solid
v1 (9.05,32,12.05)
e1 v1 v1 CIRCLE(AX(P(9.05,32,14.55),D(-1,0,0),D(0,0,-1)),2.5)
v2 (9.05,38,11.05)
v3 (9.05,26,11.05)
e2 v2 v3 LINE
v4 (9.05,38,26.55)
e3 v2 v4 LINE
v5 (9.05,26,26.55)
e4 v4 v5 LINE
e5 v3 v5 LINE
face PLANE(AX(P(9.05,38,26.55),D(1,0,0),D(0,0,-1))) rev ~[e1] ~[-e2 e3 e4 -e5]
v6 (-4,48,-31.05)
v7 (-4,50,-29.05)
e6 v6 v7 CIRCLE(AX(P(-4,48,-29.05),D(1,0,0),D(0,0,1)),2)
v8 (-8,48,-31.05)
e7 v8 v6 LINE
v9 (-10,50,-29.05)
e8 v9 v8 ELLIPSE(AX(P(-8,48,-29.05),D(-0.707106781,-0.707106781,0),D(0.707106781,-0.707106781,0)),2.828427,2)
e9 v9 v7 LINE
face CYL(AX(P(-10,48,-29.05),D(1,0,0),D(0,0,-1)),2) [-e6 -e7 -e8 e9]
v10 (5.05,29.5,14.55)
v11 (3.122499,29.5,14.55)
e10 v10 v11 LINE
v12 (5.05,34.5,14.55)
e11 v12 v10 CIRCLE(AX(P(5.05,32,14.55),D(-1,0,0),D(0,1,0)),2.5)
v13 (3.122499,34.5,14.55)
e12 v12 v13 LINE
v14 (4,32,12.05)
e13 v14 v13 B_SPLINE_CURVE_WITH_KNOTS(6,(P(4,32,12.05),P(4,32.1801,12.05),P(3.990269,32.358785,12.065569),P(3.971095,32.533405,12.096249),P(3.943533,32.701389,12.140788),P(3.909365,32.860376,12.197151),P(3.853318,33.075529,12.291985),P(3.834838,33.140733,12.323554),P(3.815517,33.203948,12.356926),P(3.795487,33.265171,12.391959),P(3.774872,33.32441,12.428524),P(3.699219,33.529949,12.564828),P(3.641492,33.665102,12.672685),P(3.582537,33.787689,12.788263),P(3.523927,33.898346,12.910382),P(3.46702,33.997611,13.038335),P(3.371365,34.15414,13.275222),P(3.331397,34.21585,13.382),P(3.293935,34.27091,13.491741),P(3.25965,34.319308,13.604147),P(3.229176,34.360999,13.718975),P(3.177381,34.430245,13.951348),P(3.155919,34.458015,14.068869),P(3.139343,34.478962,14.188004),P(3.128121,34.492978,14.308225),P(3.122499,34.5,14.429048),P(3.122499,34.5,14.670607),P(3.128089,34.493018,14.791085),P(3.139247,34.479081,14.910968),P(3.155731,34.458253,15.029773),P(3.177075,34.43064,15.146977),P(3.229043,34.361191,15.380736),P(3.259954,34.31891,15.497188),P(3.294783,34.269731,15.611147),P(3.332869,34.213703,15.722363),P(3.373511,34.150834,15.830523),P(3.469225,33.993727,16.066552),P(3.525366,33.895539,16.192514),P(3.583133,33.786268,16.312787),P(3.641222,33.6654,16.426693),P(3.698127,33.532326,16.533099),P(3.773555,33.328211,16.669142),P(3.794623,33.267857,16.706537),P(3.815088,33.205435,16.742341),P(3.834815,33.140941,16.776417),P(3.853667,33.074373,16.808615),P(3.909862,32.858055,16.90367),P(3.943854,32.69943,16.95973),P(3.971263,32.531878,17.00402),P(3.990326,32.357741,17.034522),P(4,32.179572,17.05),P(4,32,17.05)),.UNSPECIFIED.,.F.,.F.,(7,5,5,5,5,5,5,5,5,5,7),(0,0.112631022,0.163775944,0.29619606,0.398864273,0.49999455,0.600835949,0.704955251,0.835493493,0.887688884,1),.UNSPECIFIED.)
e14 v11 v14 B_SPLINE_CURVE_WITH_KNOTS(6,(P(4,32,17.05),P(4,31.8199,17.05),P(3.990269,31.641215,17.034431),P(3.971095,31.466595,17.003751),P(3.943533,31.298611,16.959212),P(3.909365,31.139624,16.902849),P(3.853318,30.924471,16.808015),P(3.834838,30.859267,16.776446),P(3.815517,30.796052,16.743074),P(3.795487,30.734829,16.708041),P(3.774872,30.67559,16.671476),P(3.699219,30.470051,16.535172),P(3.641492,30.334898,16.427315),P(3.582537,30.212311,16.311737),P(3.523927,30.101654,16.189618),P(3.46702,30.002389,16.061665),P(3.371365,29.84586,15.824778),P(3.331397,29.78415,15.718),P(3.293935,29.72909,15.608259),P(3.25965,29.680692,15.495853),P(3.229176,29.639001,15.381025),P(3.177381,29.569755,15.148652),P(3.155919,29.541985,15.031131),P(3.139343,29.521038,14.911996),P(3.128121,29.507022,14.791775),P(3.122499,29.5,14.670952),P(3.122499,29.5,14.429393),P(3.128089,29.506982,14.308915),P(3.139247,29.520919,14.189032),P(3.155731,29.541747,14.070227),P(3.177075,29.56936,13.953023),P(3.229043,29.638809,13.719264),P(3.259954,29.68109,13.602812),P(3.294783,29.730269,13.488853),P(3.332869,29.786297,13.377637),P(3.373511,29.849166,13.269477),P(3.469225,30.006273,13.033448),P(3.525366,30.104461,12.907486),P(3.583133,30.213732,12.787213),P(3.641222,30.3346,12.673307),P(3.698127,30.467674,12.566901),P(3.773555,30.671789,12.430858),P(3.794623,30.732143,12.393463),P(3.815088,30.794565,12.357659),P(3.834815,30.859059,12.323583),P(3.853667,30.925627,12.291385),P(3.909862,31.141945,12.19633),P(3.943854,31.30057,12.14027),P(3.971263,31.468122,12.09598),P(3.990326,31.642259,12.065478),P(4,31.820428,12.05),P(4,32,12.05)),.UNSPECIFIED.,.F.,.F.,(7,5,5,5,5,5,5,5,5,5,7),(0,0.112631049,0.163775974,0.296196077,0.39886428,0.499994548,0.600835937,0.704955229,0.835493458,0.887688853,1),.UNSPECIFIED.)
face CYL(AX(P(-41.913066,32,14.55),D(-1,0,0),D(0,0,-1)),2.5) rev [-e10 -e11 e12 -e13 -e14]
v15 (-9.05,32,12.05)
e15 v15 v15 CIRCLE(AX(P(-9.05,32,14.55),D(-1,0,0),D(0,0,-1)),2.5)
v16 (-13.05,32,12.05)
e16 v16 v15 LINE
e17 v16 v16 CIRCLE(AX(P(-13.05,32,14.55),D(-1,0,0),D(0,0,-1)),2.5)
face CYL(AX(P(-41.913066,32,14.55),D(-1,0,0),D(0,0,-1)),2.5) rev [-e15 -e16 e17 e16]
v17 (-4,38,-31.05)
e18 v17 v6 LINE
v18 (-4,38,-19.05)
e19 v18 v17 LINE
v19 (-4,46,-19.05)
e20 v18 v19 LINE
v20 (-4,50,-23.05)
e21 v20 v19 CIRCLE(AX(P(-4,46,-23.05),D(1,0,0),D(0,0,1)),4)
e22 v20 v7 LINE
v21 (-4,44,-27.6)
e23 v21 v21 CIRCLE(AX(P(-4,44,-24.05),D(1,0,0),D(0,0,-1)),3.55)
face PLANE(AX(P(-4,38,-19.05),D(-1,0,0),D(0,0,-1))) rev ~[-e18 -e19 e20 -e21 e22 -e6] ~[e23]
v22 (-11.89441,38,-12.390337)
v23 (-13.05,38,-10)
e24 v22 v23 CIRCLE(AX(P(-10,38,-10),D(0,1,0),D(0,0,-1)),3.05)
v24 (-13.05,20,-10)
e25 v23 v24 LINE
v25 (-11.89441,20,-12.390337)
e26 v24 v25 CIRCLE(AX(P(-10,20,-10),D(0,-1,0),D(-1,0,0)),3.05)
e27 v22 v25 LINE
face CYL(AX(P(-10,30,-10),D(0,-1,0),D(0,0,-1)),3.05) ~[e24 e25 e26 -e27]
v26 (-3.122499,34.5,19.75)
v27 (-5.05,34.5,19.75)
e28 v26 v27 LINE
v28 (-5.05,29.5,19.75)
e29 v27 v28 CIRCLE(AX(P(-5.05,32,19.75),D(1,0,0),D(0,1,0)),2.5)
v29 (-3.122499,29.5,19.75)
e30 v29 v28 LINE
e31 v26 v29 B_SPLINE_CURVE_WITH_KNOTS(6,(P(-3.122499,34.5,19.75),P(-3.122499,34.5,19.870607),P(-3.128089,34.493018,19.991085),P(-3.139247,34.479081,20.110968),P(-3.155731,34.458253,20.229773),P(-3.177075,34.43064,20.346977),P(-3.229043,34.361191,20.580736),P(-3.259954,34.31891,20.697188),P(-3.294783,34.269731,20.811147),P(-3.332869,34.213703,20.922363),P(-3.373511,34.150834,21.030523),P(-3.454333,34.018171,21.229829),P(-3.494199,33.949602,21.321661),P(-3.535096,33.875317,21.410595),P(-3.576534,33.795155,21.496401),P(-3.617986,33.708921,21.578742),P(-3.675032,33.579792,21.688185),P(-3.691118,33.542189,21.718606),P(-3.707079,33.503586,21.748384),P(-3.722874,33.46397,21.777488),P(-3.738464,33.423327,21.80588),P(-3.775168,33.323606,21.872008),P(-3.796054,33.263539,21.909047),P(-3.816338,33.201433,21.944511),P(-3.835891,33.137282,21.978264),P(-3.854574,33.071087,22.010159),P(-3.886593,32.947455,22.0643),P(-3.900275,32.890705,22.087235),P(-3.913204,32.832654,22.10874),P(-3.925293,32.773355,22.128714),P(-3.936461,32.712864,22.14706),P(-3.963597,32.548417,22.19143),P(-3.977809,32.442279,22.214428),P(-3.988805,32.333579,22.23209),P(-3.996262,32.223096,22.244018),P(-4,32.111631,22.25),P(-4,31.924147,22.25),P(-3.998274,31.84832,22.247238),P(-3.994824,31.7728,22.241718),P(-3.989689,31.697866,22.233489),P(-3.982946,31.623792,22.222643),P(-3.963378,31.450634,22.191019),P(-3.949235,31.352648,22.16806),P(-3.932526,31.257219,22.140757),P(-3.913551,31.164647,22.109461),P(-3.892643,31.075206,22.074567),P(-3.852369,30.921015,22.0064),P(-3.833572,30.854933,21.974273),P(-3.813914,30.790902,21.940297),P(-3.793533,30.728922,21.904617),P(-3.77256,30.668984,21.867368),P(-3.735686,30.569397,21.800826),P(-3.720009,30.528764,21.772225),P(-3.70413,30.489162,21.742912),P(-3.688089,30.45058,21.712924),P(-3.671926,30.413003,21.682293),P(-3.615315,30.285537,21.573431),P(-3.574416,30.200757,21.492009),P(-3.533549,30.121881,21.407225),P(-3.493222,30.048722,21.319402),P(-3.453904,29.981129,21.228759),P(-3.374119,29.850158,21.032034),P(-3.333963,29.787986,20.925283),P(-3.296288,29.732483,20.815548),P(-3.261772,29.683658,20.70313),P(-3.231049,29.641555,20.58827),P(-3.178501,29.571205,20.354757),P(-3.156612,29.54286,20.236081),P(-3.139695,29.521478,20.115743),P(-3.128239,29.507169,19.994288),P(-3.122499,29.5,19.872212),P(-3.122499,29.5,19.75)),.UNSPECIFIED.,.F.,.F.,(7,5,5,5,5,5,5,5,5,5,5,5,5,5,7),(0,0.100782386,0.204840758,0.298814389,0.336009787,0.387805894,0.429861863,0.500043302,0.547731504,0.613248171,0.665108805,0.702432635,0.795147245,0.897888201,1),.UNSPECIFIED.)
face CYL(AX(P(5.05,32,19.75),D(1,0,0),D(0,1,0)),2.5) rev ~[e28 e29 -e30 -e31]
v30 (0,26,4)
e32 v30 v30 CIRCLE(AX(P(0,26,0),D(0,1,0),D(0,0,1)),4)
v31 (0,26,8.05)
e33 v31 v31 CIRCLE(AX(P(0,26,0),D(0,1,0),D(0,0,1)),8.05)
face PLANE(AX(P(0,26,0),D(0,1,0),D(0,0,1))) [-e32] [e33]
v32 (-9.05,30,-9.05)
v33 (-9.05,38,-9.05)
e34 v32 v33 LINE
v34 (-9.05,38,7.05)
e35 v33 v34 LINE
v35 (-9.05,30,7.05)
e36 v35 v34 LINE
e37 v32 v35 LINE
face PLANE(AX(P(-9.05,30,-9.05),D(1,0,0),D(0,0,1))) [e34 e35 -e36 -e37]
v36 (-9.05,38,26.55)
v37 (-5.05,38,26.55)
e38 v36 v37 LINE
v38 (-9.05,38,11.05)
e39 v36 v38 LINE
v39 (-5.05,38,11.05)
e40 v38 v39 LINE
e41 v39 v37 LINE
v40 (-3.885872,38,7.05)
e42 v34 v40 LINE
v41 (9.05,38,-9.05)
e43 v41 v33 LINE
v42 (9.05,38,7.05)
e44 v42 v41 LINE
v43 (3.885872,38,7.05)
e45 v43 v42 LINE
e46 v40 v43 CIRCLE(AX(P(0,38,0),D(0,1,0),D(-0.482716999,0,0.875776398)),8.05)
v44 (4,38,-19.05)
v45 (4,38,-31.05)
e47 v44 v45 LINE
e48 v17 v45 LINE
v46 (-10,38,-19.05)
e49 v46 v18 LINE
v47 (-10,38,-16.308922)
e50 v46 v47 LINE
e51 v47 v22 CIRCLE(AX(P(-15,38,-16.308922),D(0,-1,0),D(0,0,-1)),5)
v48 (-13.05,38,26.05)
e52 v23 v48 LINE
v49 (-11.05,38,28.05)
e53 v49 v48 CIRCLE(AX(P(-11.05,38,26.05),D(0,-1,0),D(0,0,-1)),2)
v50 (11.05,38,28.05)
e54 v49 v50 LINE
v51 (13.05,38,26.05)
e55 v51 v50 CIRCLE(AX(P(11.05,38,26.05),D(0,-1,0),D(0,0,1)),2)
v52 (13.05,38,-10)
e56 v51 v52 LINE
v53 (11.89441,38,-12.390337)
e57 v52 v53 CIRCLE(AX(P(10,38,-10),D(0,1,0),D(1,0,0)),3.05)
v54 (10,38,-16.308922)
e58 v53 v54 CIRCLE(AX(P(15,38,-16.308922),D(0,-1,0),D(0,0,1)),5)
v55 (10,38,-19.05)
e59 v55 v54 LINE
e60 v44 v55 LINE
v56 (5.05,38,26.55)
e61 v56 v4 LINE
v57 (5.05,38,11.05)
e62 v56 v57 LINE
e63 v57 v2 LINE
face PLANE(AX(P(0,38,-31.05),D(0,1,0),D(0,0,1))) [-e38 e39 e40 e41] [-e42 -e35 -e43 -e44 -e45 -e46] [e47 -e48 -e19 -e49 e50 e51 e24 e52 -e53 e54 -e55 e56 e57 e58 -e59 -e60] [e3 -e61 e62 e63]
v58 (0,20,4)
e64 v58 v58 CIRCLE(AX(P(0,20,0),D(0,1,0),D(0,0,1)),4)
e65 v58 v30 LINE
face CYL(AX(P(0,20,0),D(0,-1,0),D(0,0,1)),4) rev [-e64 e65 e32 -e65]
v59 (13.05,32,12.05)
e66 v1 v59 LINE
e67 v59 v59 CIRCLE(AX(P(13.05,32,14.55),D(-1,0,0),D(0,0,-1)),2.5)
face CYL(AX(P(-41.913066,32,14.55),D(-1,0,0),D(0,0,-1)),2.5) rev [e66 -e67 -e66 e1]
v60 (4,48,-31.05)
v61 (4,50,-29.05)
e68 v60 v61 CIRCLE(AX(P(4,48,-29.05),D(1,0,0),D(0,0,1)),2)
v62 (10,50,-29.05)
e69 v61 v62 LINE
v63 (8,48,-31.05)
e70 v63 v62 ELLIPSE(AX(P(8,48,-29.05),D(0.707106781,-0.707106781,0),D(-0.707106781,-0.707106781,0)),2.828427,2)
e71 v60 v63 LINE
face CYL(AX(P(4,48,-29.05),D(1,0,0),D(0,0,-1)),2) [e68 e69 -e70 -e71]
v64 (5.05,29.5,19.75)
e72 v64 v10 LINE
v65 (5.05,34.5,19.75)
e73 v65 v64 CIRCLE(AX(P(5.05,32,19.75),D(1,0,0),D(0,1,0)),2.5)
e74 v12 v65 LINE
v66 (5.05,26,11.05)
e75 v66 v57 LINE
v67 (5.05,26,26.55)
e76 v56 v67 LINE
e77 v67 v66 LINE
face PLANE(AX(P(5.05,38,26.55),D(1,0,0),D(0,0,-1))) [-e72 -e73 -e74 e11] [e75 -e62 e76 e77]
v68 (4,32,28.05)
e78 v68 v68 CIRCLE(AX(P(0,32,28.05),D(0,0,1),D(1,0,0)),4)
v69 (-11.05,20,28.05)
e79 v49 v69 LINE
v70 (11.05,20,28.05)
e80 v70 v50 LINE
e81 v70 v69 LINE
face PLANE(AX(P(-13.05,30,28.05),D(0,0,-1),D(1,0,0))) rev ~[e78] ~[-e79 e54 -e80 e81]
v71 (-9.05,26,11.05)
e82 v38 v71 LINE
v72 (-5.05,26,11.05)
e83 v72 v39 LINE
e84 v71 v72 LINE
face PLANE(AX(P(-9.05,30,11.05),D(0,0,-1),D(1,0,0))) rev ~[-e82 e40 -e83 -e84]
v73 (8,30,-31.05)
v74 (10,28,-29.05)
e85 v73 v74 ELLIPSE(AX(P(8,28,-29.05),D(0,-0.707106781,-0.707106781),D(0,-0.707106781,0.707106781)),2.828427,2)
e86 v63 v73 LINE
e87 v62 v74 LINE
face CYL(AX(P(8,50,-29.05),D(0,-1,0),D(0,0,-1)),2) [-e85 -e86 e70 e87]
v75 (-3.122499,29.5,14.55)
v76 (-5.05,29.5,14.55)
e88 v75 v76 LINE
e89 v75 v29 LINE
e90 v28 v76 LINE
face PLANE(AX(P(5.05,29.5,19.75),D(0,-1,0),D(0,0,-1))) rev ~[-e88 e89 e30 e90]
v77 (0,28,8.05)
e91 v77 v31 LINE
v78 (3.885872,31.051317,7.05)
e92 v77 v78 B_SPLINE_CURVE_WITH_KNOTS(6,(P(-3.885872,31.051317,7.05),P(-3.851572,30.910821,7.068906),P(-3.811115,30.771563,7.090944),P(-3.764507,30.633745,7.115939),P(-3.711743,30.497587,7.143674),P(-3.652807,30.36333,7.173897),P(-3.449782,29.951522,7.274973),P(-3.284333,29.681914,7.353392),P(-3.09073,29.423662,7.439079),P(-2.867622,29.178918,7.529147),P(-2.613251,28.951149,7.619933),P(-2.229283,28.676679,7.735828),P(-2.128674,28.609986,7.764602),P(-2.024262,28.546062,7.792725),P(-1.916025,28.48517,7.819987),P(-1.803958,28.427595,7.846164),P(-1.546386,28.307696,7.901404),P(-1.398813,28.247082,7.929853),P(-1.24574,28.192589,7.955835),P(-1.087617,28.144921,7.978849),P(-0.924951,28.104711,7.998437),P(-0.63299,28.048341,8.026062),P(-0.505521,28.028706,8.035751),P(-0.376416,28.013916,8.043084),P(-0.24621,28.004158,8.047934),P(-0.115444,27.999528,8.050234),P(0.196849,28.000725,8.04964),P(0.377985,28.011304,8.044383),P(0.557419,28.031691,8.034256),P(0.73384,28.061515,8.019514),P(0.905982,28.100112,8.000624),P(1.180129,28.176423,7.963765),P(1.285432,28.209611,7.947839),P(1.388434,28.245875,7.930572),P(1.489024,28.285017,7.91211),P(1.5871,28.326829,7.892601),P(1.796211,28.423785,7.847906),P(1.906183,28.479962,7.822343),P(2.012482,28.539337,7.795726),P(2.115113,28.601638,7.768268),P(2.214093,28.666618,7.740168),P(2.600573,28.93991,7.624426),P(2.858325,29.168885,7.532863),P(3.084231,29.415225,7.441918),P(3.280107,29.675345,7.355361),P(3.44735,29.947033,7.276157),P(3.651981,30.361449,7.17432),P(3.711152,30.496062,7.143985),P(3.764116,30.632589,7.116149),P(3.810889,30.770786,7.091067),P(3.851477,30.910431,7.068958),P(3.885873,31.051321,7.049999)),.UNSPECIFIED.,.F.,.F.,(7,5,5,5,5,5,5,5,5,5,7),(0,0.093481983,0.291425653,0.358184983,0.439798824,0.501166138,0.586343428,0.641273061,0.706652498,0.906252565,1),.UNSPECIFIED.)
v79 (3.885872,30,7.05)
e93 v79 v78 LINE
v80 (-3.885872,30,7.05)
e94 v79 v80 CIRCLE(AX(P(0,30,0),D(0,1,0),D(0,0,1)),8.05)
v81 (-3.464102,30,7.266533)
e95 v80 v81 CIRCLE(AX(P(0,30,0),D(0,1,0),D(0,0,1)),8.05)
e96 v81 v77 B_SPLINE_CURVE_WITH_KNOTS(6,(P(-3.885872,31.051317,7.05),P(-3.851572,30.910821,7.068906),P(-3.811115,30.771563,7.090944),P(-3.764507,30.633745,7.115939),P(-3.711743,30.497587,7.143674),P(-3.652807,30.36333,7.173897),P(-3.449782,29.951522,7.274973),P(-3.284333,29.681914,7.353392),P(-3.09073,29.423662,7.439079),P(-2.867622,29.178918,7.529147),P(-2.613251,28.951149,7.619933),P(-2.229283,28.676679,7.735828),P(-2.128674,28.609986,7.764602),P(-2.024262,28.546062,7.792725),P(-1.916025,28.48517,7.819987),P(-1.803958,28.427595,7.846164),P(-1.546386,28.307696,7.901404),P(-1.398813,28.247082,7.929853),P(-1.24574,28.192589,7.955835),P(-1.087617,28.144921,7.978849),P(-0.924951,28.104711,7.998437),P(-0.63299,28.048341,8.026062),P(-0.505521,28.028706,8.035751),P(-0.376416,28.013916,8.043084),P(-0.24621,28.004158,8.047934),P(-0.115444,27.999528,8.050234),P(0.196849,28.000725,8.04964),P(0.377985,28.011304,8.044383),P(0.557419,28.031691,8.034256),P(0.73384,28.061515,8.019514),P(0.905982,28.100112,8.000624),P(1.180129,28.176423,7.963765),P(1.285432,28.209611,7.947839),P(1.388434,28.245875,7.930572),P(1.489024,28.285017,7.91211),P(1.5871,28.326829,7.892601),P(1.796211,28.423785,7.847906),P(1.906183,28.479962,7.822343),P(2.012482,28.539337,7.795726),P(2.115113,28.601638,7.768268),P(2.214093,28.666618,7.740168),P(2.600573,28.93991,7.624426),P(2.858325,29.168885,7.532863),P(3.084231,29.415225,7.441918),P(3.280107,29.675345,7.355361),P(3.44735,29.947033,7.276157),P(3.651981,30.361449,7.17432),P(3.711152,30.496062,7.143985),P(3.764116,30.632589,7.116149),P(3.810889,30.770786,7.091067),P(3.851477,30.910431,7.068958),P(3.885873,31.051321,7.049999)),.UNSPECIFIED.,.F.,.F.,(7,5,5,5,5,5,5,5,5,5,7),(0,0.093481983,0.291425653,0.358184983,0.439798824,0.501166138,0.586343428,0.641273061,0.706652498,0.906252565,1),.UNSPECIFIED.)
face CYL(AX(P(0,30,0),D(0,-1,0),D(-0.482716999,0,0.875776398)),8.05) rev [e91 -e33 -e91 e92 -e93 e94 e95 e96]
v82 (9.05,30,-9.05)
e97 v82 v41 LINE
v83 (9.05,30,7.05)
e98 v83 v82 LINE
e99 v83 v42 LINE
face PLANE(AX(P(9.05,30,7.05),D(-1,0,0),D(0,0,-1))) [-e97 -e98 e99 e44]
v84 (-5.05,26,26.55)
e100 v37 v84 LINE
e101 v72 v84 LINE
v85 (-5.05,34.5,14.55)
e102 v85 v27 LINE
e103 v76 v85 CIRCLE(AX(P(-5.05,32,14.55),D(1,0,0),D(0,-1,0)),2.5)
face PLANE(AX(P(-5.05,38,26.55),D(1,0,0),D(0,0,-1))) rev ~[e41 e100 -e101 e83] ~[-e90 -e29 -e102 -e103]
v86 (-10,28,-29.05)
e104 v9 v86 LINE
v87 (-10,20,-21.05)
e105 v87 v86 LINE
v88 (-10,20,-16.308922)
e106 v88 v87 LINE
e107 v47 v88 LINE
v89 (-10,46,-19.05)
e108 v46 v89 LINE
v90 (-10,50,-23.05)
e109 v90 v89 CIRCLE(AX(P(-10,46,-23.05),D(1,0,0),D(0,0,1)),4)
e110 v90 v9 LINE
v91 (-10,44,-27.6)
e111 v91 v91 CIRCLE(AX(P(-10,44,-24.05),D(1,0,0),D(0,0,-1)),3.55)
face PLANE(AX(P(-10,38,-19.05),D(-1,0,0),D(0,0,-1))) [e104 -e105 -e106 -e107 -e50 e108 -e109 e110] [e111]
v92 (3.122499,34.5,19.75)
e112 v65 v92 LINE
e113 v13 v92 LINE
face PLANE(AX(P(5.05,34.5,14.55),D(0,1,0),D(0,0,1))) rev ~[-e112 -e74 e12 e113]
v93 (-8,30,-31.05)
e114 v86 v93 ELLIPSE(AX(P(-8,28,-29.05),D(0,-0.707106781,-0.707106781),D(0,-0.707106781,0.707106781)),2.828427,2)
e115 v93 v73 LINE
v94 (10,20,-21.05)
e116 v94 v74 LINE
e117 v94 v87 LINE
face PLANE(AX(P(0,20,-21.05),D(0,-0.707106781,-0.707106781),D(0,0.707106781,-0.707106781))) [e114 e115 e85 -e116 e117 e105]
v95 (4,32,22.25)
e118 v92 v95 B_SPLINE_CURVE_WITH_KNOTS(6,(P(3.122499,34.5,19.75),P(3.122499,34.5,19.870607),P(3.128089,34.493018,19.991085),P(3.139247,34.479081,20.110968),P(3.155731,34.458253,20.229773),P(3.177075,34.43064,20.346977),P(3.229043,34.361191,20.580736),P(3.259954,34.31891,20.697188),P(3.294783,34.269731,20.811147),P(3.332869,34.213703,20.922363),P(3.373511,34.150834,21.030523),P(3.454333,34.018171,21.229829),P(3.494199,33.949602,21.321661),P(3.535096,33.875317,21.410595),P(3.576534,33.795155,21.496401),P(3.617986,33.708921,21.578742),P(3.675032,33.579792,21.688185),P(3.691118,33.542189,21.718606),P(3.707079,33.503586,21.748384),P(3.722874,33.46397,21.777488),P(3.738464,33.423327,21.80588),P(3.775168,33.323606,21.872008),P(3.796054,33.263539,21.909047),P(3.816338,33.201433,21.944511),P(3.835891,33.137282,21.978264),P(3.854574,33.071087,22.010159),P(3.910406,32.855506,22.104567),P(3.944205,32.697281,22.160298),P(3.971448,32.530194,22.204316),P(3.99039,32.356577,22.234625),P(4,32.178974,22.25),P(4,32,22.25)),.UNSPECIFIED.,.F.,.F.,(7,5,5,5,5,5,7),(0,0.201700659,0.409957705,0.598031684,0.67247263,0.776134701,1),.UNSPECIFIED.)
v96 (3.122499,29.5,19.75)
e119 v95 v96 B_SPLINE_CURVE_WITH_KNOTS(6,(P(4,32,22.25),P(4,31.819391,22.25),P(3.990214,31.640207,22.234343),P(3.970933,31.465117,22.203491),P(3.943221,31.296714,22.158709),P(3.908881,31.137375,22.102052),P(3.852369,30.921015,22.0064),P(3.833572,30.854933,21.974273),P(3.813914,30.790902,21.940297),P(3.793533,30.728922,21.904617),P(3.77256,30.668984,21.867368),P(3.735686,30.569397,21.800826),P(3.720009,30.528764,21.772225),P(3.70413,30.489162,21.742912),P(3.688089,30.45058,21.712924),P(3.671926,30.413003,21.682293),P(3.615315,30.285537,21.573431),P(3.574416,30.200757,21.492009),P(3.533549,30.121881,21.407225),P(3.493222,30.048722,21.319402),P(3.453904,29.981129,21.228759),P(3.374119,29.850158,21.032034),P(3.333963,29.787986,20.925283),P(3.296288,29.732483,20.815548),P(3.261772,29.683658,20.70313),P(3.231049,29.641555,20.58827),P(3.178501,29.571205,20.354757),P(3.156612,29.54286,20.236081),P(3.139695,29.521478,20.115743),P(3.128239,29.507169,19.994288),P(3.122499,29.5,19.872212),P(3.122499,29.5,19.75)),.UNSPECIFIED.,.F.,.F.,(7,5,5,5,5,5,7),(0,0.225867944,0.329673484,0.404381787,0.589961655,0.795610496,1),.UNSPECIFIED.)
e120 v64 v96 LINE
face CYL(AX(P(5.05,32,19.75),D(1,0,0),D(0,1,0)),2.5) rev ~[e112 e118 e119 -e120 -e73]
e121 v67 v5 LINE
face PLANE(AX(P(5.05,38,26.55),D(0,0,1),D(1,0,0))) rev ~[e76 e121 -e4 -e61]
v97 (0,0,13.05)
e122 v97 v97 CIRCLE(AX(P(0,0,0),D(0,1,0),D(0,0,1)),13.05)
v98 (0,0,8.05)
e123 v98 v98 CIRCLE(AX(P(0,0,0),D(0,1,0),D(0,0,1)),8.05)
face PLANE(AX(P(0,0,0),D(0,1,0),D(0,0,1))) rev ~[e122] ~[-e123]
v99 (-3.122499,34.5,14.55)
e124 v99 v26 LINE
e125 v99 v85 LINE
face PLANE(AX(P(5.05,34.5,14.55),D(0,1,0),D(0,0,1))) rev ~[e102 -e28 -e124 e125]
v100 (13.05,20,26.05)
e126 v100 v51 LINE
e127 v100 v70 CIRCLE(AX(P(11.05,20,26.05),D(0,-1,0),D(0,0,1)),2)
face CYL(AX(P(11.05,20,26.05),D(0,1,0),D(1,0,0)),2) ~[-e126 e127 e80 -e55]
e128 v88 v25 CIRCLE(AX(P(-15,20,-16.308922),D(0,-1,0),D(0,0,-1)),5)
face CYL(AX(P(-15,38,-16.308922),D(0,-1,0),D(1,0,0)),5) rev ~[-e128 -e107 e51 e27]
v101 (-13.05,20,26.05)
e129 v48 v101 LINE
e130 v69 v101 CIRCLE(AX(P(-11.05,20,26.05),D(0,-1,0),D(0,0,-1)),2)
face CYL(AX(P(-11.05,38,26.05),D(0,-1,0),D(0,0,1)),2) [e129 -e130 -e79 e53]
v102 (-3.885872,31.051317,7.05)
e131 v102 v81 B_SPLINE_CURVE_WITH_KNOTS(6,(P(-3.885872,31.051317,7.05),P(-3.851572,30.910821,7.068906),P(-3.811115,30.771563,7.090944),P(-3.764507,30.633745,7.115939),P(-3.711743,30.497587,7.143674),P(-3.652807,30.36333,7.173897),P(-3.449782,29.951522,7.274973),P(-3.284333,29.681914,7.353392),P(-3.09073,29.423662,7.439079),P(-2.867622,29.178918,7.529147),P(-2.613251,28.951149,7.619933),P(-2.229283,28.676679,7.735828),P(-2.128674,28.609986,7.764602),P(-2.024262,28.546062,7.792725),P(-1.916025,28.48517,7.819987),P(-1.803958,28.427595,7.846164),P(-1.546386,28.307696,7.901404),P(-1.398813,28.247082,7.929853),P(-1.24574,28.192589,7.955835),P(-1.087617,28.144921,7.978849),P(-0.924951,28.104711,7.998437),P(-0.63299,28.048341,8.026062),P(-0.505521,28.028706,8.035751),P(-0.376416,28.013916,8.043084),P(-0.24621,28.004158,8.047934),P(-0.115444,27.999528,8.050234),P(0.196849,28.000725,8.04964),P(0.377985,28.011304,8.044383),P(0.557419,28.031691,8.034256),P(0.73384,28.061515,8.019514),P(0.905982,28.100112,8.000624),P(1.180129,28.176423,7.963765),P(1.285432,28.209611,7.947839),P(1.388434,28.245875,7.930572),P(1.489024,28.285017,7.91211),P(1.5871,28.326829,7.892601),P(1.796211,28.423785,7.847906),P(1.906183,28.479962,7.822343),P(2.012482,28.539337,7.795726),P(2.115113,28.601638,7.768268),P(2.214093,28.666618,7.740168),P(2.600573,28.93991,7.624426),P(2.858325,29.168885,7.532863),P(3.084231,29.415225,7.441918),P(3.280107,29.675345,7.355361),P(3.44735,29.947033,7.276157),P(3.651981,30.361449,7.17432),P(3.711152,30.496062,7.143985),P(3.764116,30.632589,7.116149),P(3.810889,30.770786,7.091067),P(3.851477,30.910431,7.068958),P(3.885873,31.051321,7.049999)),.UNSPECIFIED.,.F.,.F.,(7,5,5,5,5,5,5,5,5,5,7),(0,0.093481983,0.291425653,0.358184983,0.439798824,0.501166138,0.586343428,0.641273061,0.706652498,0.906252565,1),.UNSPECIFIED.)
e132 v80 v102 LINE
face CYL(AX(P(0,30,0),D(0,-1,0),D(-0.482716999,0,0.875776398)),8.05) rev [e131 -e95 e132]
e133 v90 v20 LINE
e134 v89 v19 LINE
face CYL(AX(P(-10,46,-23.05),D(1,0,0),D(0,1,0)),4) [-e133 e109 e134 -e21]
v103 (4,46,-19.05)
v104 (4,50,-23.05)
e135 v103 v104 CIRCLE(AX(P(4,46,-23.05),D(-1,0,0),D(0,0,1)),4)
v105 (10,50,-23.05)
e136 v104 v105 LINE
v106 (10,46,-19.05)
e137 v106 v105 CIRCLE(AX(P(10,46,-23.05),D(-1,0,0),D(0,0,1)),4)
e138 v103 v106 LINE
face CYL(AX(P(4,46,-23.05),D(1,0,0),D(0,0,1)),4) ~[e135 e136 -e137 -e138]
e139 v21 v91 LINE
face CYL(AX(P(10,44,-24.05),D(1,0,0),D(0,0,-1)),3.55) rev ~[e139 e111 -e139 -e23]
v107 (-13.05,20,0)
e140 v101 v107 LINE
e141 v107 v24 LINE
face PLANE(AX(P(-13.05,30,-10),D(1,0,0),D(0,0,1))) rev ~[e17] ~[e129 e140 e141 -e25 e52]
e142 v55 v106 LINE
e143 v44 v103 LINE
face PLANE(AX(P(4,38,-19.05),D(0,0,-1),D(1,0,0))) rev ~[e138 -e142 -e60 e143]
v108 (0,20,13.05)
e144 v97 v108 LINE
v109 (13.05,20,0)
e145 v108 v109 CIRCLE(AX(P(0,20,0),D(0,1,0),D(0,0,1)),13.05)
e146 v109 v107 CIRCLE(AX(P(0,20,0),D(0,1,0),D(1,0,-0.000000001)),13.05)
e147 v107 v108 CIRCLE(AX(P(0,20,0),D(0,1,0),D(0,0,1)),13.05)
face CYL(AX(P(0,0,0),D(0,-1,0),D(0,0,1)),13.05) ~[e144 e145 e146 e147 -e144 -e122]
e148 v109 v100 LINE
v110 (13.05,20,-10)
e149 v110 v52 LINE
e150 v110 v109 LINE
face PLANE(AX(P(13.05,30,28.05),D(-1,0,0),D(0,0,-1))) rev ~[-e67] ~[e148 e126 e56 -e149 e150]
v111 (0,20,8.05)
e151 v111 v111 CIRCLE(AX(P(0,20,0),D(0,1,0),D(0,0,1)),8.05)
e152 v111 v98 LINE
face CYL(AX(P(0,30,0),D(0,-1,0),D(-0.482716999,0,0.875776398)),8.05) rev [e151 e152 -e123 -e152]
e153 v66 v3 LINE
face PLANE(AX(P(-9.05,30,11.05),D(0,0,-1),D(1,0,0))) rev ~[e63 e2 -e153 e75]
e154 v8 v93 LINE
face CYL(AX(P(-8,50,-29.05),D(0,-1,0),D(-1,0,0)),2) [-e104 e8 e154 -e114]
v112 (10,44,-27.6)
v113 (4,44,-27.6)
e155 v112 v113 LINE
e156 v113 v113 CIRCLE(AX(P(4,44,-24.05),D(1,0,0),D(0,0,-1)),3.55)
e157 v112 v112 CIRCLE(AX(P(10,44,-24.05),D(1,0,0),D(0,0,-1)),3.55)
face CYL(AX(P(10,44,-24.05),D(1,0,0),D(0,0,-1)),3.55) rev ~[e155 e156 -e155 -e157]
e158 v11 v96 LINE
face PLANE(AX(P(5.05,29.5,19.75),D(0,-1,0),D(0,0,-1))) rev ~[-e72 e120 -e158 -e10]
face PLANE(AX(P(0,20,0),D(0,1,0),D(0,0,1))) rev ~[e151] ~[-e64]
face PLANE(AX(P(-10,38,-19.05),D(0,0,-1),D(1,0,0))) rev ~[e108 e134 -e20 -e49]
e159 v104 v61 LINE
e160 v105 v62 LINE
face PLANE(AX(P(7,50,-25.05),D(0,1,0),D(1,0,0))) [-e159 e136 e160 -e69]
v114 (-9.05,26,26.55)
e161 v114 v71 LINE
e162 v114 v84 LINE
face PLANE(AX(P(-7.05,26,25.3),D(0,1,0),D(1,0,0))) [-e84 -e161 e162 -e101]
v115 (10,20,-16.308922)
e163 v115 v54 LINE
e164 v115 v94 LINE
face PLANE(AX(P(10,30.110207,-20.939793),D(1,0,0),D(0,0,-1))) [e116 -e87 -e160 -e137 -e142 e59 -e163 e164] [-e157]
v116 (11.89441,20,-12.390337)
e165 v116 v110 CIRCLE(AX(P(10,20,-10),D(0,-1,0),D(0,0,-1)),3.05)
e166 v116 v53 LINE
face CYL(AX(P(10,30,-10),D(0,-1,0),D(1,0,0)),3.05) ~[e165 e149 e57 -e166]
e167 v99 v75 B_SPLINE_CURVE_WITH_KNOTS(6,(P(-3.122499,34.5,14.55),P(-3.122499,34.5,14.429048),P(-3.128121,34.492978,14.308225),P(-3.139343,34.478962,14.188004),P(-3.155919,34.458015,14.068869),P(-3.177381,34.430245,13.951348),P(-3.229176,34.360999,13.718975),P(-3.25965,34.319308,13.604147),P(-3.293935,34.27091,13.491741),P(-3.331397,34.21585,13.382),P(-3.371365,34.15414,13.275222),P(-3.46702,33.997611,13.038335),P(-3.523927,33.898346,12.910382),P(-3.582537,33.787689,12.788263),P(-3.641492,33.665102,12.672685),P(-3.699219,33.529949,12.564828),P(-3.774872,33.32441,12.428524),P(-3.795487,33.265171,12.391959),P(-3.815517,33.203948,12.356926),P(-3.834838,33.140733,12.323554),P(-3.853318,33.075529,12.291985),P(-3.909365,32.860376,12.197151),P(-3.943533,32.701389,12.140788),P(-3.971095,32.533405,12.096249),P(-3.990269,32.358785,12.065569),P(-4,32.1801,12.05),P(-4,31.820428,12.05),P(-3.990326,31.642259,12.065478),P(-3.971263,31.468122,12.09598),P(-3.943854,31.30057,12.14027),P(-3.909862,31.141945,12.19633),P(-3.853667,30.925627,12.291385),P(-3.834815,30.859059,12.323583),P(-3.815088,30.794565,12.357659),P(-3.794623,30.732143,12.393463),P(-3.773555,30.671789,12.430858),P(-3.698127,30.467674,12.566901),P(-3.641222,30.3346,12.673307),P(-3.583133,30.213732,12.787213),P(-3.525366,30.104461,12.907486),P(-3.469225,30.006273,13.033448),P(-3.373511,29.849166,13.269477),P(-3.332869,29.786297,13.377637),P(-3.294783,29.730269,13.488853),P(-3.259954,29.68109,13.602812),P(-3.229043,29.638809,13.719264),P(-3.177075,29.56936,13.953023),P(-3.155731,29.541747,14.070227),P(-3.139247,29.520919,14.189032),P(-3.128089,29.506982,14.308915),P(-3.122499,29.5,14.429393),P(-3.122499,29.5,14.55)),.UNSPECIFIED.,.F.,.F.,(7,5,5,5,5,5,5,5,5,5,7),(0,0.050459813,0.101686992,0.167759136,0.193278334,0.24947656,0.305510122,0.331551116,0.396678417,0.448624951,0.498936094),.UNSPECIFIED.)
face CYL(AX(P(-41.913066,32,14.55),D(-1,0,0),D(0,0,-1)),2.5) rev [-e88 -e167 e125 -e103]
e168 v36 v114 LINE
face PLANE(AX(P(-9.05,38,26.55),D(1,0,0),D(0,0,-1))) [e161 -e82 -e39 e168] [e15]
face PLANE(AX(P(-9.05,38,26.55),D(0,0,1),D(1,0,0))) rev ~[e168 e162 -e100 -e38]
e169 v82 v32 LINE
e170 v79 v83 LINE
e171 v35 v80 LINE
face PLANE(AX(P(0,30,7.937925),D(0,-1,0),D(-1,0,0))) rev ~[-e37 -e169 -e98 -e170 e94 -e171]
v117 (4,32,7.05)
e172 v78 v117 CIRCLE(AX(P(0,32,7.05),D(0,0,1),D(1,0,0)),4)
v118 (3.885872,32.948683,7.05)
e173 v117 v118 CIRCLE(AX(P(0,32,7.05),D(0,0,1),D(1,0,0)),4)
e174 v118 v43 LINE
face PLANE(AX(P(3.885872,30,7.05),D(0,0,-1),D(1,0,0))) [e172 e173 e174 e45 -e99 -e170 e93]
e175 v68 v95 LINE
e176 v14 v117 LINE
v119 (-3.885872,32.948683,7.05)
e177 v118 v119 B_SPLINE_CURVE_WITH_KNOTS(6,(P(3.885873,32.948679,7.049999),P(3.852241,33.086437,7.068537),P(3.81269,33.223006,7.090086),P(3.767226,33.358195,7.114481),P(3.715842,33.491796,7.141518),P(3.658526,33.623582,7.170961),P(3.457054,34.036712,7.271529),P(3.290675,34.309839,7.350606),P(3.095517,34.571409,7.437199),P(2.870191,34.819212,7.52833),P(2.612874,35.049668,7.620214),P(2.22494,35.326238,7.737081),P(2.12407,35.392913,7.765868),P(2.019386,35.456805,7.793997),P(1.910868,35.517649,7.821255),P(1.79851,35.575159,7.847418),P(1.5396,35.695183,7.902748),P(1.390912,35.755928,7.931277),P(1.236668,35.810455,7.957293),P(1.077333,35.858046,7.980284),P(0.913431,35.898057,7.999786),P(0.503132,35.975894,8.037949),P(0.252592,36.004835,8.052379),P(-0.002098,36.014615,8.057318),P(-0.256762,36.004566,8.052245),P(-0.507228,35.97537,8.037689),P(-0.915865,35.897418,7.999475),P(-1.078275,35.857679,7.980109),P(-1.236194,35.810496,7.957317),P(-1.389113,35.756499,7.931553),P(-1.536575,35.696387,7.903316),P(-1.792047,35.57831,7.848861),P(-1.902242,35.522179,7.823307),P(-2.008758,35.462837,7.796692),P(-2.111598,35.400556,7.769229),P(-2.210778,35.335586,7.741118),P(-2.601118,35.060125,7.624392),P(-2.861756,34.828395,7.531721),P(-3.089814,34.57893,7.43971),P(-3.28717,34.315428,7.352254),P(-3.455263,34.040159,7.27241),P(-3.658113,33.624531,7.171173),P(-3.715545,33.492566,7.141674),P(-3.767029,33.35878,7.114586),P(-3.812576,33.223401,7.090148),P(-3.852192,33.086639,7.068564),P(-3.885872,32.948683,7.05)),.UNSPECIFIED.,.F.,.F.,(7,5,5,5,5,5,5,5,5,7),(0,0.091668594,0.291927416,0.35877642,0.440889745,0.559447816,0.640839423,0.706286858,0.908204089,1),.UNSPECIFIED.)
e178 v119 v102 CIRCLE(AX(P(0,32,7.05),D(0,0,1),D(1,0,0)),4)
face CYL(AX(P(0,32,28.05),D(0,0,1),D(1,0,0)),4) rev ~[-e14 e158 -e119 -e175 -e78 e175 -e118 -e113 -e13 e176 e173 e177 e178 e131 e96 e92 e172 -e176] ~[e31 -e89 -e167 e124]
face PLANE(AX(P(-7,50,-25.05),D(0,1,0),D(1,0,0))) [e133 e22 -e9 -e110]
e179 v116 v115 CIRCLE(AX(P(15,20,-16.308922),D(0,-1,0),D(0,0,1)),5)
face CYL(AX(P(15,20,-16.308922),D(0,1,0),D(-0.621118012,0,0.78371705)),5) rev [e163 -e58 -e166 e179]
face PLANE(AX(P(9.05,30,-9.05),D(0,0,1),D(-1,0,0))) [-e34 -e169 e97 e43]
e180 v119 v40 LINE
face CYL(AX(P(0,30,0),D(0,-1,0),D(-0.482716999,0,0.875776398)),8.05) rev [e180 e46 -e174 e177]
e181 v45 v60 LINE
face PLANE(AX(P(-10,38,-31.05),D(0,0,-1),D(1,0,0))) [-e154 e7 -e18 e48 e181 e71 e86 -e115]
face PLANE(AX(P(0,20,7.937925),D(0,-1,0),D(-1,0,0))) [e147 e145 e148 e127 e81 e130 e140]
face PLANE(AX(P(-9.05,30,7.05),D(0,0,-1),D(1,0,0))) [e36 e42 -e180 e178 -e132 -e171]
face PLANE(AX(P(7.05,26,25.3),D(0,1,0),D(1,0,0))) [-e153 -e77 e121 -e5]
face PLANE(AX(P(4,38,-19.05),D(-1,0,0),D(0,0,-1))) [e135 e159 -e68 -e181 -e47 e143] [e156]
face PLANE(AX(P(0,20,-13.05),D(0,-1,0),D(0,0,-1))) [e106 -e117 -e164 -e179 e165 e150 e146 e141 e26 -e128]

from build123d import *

# Parameters (mm, degrees)
SKETCH1_R               = 13.05
SKETCH1_R_2             = 8.05
BOSS_EXTRUDE1_DEPTH     = 20
SKETCH2_R               = 8.05
BOSS_EXTRUDE2_DEPTH     = 10
SKETCH3_W               = 18.1
SKETCH3_H               = 13
CUT_EXTRUDE1_DEPTH      = 4
SKETCH4_W               = 18.1
SKETCH4_H               = 13
BOSS_EXTRUDE3_DEPTH     = 8
SKETCH5_R               = 8.05
SKETCH5_R_2             = 4
BOSS_EXTRUDE4_DEPTH     = 6
SKETCH10_W              = 10.1
SKETCH10_H              = 13
BOSS_EXTRUDE7_DEPTH     = 12
CUT_EXTRUDE2_REACH      = 59.476
SKETCH6_R               = 4
CUT_EXTRUDE3_DEPTH      = 54.963066195
CUT_EXTRUDE3_DEPTH_BACK = 54.963066195
SKETCH7_R               = 2.5
BOSS_EXTRUDE5_DEPTH     = 10
SKETCH13_W              = 6
SKETCH13_H              = 12
BOSS_EXTRUDE8_DEPTH     = 12
FILLET1_R               = 5
FILLET2_R               = 2
CUT_EXTRUDE4_REACH      = 63.577
CUT_EXTRUDE5_REACH      = 65.209
SKETCH14_R              = 3.55
FILLET4_R               = 4
FILLET5_R               = 2
SKETCH15_W              = 4
SKETCH15_H              = 2.5
CUT_EXTRUDE6_DEPTH      = 12


with BuildPart() as part:
    # Sketch1 → Boss-Extrude1 (new body)
    with BuildSketch(Plane(origin=(0, 0, 0), x_dir=(1, 0, 0), z_dir=(0, 1, 0))):
        with Locations(Location((0, 0, 0), (0, 0, 270))):
            Circle(SKETCH1_R)
        with Locations(Location((0, 0, 0), (0, 0, 270))):
            Circle(SKETCH1_R_2, mode=Mode.SUBTRACT)
    extrude(amount=BOSS_EXTRUDE1_DEPTH)

    # Sketch2 → Boss-Extrude2 (add)
    with BuildSketch(Plane(origin=(0, 20, 0), x_dir=(1, 0, 0), z_dir=(0, 1, 0))):
        with BuildLine():
            Line((-13.05, -13.05), (-13.05, 10))
            ThreePointArc((-13.05, 10), (-12.156675683, 12.156675683), (-10, 13.05))
            Line((-10, 13.05), (10, 13.05))
            ThreePointArc((10, 13.05), (12.156675683, 12.156675683), (13.05, 10))
            Line((13.05, 10), (13.05, -13.05))
            Line((13.05, -13.05), (13.05, -28.05))
            Line((13.05, -28.05), (-13.05, -28.05))
            Line((-13.05, -28.05), (-13.05, -13.05))
        make_face()
        with Locations(Location((0, 0, 0), (0, 0, 270))):
            Circle(SKETCH2_R, mode=Mode.SUBTRACT)
    extrude(amount=BOSS_EXTRUDE2_DEPTH)

    # Sketch3 → Cut-Extrude1 (cut)
    with BuildSketch(Plane(origin=(0, 30, 0), x_dir=(1, 0, 0), z_dir=(0, 1, 0))):
        with Locations((0, -17.55)):
            Rectangle(SKETCH3_W, SKETCH3_H)
    extrude(amount=-CUT_EXTRUDE1_DEPTH, mode=Mode.SUBTRACT)

    # Sketch4 → Boss-Extrude3 (add)
    with BuildSketch(Plane(origin=(0, 30, 0), x_dir=(1, 0, 0), z_dir=(0, 1, 0))):
        with BuildLine():
            Line((-13.05, -28.05), (13.05, -28.05))
            Line((13.05, -28.05), (13.05, 10))
            ThreePointArc((13.05, 10), (12.156675683, 12.156675683), (10, 13.05))
            Line((10, 13.05), (-10, 13.05))
            ThreePointArc((-10, 13.05), (-12.156675683, 12.156675683), (-13.05, 10))
            Line((-13.05, 10), (-13.05, -28.05))
        make_face()
        with BuildLine():
            Line((-9.05, 9.05), (-9.05, -7.05))
            Line((-9.05, -7.05), (-3.885871846, -7.05))
            ThreePointArc((-3.885871846, -7.05), (0, -8.05), (3.885871846, -7.05))
            Line((3.885871846, -7.05), (9.05, -7.05))
            Line((9.05, -7.05), (9.05, 9.05))
            Line((9.05, 9.05), (-9.05, 9.05))
        make_face(mode=Mode.SUBTRACT)
        with Locations((0, -17.55)):
            Rectangle(SKETCH4_W, SKETCH4_H, mode=Mode.SUBTRACT)
    extrude(amount=BOSS_EXTRUDE3_DEPTH)

    # Sketch5 → Boss-Extrude4 (add)
    with BuildSketch(Plane(origin=(0, 20, 0), x_dir=(1, 0, 0), z_dir=(0, 1, 0))):
        with Locations(Location((0, 0, 0), (0, 0, 270))):
            Circle(SKETCH5_R)
        with Locations(Location((0, 0, 0), (0, 0, 270))):
            Circle(SKETCH5_R_2, mode=Mode.SUBTRACT)
    extrude(amount=BOSS_EXTRUDE4_DEPTH)

    # Sketch10 → Boss-Extrude7 (add)
    with BuildSketch(Plane(origin=(0, 26, 0), x_dir=(1, 0, 0), z_dir=(0, 1, 0))):
        with Locations((0, -17.55)):
            Rectangle(SKETCH10_W, SKETCH10_H)
    extrude(amount=BOSS_EXTRUDE7_DEPTH)

    # Cut-Extrude2: up to this face of the body (flat: up to its plane)
    cut_extrude2_end = Plane(part.part.faces().sort_by_distance((-6.467935923, 34, 7.05))[0])
    # Sketch6 → Cut-Extrude2 (cut, up to the picked face)
    with BuildSketch(Plane.XY.offset(28.05), mode=Mode.PRIVATE) as cut_extrude2_sk1:
        with Locations((0, 32)):
            Circle(SKETCH6_R)
    cut_extrude2_tool1 = split(extrude(cut_extrude2_sk1.sketch, amount=-CUT_EXTRUDE2_REACH, mode=Mode.PRIVATE), bisect_by=cut_extrude2_end, keep=Keep.BOTH, mode=Mode.PRIVATE)
    add(cut_extrude2_tool1.solids().sort_by(Axis((0, 32, 28.05), (0, 0, -1)))[0], mode=Mode.SUBTRACT)

    # Sketch7 → Cut-Extrude3 (cut, two sides: drawn at the far end of the back side and taken through both)
    with BuildSketch(Plane(origin=(13.05, 0, 0), x_dir=(0, 0, -1), z_dir=(1, 0, 0)).offset(-CUT_EXTRUDE3_DEPTH_BACK)):
        with Locations((-14.55, 32)):
            Circle(SKETCH7_R)
    extrude(amount=CUT_EXTRUDE3_DEPTH + CUT_EXTRUDE3_DEPTH_BACK, mode=Mode.SUBTRACT)

    # Sketch8 → Boss-Extrude5 (add, symmetric)
    with BuildSketch(Plane(origin=(0, 0, 0), x_dir=(0, 0, -1), z_dir=(1, 0, 0))):
        Polygon((21.05, 20), (31.05, 30), (31.05, 38), (13.05, 38), (13.05, 20), align=None)
    extrude(amount=BOSS_EXTRUDE5_DEPTH, both=True)

    # Sketch13 → Boss-Extrude8 (add)
    with BuildSketch(Plane(origin=(0, 38, 0), x_dir=(1, 0, 0), z_dir=(0, 1, 0))):
        with Locations((-7, 25.05)):
            Rectangle(SKETCH13_W, SKETCH13_H)
        with Locations((7, 25.05)):
            Rectangle(SKETCH13_W, SKETCH13_H)
    extrude(amount=BOSS_EXTRUDE8_DEPTH)

    # Fillet1
    fillet1_edges = [part.edges().sort_by_distance(p)[0] for p in [
        (10, 29, -13.05),
        (-10, 29, -13.05),
    ]]
    fillet(fillet1_edges, radius=FILLET1_R)

    # Fillet2
    fillet2_edges = [part.edges().sort_by_distance(p)[0] for p in [
        (-10, 40, -31.05),
        (10, 40, -31.05),
        (-7, 50, -31.05),
        (7, 50, -31.05),
    ]]
    fillet(fillet2_edges, radius=FILLET2_R)

    # Cut-Extrude4: up to this face of the body (flat: up to its plane)
    cut_extrude4_end = Plane(part.part.faces().sort_by_distance((-5.05, 32, 17.981964525))[0])
    # Sketch11 → Cut-Extrude4 (cut, up to the picked face)
    with BuildSketch(Plane(origin=(5.05, 0, 0), x_dir=(0, 0, -1), z_dir=(1, 0, 0)), mode=Mode.PRIVATE) as cut_extrude4_sk1:
        with BuildLine():
            Line((-19.75, 29.5), (-14.55, 29.5))
            ThreePointArc((-14.55, 29.5), (-12.05, 32), (-14.55, 34.5))
            Line((-14.55, 34.5), (-19.75, 34.5))
            ThreePointArc((-19.75, 34.5), (-22.25, 32), (-19.75, 29.5))
        make_face()
    cut_extrude4_tool1 = split(extrude(cut_extrude4_sk1.sketch, amount=-CUT_EXTRUDE4_REACH, mode=Mode.PRIVATE), bisect_by=cut_extrude4_end, keep=Keep.BOTH, mode=Mode.PRIVATE)
    add(cut_extrude4_tool1.solids().sort_by(Axis((5.05, 32, 17.15), (-1, 0, 0)))[0], mode=Mode.SUBTRACT)

    # Cut-Extrude5: up to this face of the body (flat: up to its plane)
    cut_extrude5_end = Plane(part.part.faces().sort_by_distance((-10, 35.310803733, -22.824229644))[0])
    # Sketch14 → Cut-Extrude5 (cut, up to the picked face)
    with BuildSketch(Plane(origin=(10, 0, 0), x_dir=(0, 0, -1), z_dir=(1, 0, 0)), mode=Mode.PRIVATE) as cut_extrude5_sk1:
        with Locations((24.05, 44)):
            Circle(SKETCH14_R)
    cut_extrude5_tool1 = split(extrude(cut_extrude5_sk1.sketch, amount=-CUT_EXTRUDE5_REACH, mode=Mode.PRIVATE), bisect_by=cut_extrude5_end, keep=Keep.BOTH, mode=Mode.PRIVATE)
    add(cut_extrude5_tool1.solids().sort_by(Axis((10, 44, -24.05), (-1, 0, 0)))[0], mode=Mode.SUBTRACT)

    # Fillet4
    fillet4_edges = [part.edges().sort_by_distance(p)[0] for p in [
        (-7, 50, -19.05),
        (7, 50, -19.05),
    ]]
    fillet(fillet4_edges, radius=FILLET4_R)

    # Fillet5
    fillet5_edges = [part.edges().sort_by_distance(p)[0] for p in [
        (-13.05, 29, 28.05),
        (13.05, 29, 28.05),
    ]]
    fillet(fillet5_edges, radius=FILLET5_R)

    # Sketch15 → Cut-Extrude6 (cut)
    with BuildSketch(Plane(origin=(0, 38, 0), x_dir=(1, 0, 0), z_dir=(0, 1, 0))):
        with Locations((7.05, -25.3)):
            Rectangle(SKETCH15_W, SKETCH15_H)
        with Locations((-7.05, -25.3)):
            Rectangle(SKETCH15_W, SKETCH15_H)
    extrude(amount=-CUT_EXTRUDE6_DEPTH, mode=Mode.SUBTRACT)


solid = part.part
